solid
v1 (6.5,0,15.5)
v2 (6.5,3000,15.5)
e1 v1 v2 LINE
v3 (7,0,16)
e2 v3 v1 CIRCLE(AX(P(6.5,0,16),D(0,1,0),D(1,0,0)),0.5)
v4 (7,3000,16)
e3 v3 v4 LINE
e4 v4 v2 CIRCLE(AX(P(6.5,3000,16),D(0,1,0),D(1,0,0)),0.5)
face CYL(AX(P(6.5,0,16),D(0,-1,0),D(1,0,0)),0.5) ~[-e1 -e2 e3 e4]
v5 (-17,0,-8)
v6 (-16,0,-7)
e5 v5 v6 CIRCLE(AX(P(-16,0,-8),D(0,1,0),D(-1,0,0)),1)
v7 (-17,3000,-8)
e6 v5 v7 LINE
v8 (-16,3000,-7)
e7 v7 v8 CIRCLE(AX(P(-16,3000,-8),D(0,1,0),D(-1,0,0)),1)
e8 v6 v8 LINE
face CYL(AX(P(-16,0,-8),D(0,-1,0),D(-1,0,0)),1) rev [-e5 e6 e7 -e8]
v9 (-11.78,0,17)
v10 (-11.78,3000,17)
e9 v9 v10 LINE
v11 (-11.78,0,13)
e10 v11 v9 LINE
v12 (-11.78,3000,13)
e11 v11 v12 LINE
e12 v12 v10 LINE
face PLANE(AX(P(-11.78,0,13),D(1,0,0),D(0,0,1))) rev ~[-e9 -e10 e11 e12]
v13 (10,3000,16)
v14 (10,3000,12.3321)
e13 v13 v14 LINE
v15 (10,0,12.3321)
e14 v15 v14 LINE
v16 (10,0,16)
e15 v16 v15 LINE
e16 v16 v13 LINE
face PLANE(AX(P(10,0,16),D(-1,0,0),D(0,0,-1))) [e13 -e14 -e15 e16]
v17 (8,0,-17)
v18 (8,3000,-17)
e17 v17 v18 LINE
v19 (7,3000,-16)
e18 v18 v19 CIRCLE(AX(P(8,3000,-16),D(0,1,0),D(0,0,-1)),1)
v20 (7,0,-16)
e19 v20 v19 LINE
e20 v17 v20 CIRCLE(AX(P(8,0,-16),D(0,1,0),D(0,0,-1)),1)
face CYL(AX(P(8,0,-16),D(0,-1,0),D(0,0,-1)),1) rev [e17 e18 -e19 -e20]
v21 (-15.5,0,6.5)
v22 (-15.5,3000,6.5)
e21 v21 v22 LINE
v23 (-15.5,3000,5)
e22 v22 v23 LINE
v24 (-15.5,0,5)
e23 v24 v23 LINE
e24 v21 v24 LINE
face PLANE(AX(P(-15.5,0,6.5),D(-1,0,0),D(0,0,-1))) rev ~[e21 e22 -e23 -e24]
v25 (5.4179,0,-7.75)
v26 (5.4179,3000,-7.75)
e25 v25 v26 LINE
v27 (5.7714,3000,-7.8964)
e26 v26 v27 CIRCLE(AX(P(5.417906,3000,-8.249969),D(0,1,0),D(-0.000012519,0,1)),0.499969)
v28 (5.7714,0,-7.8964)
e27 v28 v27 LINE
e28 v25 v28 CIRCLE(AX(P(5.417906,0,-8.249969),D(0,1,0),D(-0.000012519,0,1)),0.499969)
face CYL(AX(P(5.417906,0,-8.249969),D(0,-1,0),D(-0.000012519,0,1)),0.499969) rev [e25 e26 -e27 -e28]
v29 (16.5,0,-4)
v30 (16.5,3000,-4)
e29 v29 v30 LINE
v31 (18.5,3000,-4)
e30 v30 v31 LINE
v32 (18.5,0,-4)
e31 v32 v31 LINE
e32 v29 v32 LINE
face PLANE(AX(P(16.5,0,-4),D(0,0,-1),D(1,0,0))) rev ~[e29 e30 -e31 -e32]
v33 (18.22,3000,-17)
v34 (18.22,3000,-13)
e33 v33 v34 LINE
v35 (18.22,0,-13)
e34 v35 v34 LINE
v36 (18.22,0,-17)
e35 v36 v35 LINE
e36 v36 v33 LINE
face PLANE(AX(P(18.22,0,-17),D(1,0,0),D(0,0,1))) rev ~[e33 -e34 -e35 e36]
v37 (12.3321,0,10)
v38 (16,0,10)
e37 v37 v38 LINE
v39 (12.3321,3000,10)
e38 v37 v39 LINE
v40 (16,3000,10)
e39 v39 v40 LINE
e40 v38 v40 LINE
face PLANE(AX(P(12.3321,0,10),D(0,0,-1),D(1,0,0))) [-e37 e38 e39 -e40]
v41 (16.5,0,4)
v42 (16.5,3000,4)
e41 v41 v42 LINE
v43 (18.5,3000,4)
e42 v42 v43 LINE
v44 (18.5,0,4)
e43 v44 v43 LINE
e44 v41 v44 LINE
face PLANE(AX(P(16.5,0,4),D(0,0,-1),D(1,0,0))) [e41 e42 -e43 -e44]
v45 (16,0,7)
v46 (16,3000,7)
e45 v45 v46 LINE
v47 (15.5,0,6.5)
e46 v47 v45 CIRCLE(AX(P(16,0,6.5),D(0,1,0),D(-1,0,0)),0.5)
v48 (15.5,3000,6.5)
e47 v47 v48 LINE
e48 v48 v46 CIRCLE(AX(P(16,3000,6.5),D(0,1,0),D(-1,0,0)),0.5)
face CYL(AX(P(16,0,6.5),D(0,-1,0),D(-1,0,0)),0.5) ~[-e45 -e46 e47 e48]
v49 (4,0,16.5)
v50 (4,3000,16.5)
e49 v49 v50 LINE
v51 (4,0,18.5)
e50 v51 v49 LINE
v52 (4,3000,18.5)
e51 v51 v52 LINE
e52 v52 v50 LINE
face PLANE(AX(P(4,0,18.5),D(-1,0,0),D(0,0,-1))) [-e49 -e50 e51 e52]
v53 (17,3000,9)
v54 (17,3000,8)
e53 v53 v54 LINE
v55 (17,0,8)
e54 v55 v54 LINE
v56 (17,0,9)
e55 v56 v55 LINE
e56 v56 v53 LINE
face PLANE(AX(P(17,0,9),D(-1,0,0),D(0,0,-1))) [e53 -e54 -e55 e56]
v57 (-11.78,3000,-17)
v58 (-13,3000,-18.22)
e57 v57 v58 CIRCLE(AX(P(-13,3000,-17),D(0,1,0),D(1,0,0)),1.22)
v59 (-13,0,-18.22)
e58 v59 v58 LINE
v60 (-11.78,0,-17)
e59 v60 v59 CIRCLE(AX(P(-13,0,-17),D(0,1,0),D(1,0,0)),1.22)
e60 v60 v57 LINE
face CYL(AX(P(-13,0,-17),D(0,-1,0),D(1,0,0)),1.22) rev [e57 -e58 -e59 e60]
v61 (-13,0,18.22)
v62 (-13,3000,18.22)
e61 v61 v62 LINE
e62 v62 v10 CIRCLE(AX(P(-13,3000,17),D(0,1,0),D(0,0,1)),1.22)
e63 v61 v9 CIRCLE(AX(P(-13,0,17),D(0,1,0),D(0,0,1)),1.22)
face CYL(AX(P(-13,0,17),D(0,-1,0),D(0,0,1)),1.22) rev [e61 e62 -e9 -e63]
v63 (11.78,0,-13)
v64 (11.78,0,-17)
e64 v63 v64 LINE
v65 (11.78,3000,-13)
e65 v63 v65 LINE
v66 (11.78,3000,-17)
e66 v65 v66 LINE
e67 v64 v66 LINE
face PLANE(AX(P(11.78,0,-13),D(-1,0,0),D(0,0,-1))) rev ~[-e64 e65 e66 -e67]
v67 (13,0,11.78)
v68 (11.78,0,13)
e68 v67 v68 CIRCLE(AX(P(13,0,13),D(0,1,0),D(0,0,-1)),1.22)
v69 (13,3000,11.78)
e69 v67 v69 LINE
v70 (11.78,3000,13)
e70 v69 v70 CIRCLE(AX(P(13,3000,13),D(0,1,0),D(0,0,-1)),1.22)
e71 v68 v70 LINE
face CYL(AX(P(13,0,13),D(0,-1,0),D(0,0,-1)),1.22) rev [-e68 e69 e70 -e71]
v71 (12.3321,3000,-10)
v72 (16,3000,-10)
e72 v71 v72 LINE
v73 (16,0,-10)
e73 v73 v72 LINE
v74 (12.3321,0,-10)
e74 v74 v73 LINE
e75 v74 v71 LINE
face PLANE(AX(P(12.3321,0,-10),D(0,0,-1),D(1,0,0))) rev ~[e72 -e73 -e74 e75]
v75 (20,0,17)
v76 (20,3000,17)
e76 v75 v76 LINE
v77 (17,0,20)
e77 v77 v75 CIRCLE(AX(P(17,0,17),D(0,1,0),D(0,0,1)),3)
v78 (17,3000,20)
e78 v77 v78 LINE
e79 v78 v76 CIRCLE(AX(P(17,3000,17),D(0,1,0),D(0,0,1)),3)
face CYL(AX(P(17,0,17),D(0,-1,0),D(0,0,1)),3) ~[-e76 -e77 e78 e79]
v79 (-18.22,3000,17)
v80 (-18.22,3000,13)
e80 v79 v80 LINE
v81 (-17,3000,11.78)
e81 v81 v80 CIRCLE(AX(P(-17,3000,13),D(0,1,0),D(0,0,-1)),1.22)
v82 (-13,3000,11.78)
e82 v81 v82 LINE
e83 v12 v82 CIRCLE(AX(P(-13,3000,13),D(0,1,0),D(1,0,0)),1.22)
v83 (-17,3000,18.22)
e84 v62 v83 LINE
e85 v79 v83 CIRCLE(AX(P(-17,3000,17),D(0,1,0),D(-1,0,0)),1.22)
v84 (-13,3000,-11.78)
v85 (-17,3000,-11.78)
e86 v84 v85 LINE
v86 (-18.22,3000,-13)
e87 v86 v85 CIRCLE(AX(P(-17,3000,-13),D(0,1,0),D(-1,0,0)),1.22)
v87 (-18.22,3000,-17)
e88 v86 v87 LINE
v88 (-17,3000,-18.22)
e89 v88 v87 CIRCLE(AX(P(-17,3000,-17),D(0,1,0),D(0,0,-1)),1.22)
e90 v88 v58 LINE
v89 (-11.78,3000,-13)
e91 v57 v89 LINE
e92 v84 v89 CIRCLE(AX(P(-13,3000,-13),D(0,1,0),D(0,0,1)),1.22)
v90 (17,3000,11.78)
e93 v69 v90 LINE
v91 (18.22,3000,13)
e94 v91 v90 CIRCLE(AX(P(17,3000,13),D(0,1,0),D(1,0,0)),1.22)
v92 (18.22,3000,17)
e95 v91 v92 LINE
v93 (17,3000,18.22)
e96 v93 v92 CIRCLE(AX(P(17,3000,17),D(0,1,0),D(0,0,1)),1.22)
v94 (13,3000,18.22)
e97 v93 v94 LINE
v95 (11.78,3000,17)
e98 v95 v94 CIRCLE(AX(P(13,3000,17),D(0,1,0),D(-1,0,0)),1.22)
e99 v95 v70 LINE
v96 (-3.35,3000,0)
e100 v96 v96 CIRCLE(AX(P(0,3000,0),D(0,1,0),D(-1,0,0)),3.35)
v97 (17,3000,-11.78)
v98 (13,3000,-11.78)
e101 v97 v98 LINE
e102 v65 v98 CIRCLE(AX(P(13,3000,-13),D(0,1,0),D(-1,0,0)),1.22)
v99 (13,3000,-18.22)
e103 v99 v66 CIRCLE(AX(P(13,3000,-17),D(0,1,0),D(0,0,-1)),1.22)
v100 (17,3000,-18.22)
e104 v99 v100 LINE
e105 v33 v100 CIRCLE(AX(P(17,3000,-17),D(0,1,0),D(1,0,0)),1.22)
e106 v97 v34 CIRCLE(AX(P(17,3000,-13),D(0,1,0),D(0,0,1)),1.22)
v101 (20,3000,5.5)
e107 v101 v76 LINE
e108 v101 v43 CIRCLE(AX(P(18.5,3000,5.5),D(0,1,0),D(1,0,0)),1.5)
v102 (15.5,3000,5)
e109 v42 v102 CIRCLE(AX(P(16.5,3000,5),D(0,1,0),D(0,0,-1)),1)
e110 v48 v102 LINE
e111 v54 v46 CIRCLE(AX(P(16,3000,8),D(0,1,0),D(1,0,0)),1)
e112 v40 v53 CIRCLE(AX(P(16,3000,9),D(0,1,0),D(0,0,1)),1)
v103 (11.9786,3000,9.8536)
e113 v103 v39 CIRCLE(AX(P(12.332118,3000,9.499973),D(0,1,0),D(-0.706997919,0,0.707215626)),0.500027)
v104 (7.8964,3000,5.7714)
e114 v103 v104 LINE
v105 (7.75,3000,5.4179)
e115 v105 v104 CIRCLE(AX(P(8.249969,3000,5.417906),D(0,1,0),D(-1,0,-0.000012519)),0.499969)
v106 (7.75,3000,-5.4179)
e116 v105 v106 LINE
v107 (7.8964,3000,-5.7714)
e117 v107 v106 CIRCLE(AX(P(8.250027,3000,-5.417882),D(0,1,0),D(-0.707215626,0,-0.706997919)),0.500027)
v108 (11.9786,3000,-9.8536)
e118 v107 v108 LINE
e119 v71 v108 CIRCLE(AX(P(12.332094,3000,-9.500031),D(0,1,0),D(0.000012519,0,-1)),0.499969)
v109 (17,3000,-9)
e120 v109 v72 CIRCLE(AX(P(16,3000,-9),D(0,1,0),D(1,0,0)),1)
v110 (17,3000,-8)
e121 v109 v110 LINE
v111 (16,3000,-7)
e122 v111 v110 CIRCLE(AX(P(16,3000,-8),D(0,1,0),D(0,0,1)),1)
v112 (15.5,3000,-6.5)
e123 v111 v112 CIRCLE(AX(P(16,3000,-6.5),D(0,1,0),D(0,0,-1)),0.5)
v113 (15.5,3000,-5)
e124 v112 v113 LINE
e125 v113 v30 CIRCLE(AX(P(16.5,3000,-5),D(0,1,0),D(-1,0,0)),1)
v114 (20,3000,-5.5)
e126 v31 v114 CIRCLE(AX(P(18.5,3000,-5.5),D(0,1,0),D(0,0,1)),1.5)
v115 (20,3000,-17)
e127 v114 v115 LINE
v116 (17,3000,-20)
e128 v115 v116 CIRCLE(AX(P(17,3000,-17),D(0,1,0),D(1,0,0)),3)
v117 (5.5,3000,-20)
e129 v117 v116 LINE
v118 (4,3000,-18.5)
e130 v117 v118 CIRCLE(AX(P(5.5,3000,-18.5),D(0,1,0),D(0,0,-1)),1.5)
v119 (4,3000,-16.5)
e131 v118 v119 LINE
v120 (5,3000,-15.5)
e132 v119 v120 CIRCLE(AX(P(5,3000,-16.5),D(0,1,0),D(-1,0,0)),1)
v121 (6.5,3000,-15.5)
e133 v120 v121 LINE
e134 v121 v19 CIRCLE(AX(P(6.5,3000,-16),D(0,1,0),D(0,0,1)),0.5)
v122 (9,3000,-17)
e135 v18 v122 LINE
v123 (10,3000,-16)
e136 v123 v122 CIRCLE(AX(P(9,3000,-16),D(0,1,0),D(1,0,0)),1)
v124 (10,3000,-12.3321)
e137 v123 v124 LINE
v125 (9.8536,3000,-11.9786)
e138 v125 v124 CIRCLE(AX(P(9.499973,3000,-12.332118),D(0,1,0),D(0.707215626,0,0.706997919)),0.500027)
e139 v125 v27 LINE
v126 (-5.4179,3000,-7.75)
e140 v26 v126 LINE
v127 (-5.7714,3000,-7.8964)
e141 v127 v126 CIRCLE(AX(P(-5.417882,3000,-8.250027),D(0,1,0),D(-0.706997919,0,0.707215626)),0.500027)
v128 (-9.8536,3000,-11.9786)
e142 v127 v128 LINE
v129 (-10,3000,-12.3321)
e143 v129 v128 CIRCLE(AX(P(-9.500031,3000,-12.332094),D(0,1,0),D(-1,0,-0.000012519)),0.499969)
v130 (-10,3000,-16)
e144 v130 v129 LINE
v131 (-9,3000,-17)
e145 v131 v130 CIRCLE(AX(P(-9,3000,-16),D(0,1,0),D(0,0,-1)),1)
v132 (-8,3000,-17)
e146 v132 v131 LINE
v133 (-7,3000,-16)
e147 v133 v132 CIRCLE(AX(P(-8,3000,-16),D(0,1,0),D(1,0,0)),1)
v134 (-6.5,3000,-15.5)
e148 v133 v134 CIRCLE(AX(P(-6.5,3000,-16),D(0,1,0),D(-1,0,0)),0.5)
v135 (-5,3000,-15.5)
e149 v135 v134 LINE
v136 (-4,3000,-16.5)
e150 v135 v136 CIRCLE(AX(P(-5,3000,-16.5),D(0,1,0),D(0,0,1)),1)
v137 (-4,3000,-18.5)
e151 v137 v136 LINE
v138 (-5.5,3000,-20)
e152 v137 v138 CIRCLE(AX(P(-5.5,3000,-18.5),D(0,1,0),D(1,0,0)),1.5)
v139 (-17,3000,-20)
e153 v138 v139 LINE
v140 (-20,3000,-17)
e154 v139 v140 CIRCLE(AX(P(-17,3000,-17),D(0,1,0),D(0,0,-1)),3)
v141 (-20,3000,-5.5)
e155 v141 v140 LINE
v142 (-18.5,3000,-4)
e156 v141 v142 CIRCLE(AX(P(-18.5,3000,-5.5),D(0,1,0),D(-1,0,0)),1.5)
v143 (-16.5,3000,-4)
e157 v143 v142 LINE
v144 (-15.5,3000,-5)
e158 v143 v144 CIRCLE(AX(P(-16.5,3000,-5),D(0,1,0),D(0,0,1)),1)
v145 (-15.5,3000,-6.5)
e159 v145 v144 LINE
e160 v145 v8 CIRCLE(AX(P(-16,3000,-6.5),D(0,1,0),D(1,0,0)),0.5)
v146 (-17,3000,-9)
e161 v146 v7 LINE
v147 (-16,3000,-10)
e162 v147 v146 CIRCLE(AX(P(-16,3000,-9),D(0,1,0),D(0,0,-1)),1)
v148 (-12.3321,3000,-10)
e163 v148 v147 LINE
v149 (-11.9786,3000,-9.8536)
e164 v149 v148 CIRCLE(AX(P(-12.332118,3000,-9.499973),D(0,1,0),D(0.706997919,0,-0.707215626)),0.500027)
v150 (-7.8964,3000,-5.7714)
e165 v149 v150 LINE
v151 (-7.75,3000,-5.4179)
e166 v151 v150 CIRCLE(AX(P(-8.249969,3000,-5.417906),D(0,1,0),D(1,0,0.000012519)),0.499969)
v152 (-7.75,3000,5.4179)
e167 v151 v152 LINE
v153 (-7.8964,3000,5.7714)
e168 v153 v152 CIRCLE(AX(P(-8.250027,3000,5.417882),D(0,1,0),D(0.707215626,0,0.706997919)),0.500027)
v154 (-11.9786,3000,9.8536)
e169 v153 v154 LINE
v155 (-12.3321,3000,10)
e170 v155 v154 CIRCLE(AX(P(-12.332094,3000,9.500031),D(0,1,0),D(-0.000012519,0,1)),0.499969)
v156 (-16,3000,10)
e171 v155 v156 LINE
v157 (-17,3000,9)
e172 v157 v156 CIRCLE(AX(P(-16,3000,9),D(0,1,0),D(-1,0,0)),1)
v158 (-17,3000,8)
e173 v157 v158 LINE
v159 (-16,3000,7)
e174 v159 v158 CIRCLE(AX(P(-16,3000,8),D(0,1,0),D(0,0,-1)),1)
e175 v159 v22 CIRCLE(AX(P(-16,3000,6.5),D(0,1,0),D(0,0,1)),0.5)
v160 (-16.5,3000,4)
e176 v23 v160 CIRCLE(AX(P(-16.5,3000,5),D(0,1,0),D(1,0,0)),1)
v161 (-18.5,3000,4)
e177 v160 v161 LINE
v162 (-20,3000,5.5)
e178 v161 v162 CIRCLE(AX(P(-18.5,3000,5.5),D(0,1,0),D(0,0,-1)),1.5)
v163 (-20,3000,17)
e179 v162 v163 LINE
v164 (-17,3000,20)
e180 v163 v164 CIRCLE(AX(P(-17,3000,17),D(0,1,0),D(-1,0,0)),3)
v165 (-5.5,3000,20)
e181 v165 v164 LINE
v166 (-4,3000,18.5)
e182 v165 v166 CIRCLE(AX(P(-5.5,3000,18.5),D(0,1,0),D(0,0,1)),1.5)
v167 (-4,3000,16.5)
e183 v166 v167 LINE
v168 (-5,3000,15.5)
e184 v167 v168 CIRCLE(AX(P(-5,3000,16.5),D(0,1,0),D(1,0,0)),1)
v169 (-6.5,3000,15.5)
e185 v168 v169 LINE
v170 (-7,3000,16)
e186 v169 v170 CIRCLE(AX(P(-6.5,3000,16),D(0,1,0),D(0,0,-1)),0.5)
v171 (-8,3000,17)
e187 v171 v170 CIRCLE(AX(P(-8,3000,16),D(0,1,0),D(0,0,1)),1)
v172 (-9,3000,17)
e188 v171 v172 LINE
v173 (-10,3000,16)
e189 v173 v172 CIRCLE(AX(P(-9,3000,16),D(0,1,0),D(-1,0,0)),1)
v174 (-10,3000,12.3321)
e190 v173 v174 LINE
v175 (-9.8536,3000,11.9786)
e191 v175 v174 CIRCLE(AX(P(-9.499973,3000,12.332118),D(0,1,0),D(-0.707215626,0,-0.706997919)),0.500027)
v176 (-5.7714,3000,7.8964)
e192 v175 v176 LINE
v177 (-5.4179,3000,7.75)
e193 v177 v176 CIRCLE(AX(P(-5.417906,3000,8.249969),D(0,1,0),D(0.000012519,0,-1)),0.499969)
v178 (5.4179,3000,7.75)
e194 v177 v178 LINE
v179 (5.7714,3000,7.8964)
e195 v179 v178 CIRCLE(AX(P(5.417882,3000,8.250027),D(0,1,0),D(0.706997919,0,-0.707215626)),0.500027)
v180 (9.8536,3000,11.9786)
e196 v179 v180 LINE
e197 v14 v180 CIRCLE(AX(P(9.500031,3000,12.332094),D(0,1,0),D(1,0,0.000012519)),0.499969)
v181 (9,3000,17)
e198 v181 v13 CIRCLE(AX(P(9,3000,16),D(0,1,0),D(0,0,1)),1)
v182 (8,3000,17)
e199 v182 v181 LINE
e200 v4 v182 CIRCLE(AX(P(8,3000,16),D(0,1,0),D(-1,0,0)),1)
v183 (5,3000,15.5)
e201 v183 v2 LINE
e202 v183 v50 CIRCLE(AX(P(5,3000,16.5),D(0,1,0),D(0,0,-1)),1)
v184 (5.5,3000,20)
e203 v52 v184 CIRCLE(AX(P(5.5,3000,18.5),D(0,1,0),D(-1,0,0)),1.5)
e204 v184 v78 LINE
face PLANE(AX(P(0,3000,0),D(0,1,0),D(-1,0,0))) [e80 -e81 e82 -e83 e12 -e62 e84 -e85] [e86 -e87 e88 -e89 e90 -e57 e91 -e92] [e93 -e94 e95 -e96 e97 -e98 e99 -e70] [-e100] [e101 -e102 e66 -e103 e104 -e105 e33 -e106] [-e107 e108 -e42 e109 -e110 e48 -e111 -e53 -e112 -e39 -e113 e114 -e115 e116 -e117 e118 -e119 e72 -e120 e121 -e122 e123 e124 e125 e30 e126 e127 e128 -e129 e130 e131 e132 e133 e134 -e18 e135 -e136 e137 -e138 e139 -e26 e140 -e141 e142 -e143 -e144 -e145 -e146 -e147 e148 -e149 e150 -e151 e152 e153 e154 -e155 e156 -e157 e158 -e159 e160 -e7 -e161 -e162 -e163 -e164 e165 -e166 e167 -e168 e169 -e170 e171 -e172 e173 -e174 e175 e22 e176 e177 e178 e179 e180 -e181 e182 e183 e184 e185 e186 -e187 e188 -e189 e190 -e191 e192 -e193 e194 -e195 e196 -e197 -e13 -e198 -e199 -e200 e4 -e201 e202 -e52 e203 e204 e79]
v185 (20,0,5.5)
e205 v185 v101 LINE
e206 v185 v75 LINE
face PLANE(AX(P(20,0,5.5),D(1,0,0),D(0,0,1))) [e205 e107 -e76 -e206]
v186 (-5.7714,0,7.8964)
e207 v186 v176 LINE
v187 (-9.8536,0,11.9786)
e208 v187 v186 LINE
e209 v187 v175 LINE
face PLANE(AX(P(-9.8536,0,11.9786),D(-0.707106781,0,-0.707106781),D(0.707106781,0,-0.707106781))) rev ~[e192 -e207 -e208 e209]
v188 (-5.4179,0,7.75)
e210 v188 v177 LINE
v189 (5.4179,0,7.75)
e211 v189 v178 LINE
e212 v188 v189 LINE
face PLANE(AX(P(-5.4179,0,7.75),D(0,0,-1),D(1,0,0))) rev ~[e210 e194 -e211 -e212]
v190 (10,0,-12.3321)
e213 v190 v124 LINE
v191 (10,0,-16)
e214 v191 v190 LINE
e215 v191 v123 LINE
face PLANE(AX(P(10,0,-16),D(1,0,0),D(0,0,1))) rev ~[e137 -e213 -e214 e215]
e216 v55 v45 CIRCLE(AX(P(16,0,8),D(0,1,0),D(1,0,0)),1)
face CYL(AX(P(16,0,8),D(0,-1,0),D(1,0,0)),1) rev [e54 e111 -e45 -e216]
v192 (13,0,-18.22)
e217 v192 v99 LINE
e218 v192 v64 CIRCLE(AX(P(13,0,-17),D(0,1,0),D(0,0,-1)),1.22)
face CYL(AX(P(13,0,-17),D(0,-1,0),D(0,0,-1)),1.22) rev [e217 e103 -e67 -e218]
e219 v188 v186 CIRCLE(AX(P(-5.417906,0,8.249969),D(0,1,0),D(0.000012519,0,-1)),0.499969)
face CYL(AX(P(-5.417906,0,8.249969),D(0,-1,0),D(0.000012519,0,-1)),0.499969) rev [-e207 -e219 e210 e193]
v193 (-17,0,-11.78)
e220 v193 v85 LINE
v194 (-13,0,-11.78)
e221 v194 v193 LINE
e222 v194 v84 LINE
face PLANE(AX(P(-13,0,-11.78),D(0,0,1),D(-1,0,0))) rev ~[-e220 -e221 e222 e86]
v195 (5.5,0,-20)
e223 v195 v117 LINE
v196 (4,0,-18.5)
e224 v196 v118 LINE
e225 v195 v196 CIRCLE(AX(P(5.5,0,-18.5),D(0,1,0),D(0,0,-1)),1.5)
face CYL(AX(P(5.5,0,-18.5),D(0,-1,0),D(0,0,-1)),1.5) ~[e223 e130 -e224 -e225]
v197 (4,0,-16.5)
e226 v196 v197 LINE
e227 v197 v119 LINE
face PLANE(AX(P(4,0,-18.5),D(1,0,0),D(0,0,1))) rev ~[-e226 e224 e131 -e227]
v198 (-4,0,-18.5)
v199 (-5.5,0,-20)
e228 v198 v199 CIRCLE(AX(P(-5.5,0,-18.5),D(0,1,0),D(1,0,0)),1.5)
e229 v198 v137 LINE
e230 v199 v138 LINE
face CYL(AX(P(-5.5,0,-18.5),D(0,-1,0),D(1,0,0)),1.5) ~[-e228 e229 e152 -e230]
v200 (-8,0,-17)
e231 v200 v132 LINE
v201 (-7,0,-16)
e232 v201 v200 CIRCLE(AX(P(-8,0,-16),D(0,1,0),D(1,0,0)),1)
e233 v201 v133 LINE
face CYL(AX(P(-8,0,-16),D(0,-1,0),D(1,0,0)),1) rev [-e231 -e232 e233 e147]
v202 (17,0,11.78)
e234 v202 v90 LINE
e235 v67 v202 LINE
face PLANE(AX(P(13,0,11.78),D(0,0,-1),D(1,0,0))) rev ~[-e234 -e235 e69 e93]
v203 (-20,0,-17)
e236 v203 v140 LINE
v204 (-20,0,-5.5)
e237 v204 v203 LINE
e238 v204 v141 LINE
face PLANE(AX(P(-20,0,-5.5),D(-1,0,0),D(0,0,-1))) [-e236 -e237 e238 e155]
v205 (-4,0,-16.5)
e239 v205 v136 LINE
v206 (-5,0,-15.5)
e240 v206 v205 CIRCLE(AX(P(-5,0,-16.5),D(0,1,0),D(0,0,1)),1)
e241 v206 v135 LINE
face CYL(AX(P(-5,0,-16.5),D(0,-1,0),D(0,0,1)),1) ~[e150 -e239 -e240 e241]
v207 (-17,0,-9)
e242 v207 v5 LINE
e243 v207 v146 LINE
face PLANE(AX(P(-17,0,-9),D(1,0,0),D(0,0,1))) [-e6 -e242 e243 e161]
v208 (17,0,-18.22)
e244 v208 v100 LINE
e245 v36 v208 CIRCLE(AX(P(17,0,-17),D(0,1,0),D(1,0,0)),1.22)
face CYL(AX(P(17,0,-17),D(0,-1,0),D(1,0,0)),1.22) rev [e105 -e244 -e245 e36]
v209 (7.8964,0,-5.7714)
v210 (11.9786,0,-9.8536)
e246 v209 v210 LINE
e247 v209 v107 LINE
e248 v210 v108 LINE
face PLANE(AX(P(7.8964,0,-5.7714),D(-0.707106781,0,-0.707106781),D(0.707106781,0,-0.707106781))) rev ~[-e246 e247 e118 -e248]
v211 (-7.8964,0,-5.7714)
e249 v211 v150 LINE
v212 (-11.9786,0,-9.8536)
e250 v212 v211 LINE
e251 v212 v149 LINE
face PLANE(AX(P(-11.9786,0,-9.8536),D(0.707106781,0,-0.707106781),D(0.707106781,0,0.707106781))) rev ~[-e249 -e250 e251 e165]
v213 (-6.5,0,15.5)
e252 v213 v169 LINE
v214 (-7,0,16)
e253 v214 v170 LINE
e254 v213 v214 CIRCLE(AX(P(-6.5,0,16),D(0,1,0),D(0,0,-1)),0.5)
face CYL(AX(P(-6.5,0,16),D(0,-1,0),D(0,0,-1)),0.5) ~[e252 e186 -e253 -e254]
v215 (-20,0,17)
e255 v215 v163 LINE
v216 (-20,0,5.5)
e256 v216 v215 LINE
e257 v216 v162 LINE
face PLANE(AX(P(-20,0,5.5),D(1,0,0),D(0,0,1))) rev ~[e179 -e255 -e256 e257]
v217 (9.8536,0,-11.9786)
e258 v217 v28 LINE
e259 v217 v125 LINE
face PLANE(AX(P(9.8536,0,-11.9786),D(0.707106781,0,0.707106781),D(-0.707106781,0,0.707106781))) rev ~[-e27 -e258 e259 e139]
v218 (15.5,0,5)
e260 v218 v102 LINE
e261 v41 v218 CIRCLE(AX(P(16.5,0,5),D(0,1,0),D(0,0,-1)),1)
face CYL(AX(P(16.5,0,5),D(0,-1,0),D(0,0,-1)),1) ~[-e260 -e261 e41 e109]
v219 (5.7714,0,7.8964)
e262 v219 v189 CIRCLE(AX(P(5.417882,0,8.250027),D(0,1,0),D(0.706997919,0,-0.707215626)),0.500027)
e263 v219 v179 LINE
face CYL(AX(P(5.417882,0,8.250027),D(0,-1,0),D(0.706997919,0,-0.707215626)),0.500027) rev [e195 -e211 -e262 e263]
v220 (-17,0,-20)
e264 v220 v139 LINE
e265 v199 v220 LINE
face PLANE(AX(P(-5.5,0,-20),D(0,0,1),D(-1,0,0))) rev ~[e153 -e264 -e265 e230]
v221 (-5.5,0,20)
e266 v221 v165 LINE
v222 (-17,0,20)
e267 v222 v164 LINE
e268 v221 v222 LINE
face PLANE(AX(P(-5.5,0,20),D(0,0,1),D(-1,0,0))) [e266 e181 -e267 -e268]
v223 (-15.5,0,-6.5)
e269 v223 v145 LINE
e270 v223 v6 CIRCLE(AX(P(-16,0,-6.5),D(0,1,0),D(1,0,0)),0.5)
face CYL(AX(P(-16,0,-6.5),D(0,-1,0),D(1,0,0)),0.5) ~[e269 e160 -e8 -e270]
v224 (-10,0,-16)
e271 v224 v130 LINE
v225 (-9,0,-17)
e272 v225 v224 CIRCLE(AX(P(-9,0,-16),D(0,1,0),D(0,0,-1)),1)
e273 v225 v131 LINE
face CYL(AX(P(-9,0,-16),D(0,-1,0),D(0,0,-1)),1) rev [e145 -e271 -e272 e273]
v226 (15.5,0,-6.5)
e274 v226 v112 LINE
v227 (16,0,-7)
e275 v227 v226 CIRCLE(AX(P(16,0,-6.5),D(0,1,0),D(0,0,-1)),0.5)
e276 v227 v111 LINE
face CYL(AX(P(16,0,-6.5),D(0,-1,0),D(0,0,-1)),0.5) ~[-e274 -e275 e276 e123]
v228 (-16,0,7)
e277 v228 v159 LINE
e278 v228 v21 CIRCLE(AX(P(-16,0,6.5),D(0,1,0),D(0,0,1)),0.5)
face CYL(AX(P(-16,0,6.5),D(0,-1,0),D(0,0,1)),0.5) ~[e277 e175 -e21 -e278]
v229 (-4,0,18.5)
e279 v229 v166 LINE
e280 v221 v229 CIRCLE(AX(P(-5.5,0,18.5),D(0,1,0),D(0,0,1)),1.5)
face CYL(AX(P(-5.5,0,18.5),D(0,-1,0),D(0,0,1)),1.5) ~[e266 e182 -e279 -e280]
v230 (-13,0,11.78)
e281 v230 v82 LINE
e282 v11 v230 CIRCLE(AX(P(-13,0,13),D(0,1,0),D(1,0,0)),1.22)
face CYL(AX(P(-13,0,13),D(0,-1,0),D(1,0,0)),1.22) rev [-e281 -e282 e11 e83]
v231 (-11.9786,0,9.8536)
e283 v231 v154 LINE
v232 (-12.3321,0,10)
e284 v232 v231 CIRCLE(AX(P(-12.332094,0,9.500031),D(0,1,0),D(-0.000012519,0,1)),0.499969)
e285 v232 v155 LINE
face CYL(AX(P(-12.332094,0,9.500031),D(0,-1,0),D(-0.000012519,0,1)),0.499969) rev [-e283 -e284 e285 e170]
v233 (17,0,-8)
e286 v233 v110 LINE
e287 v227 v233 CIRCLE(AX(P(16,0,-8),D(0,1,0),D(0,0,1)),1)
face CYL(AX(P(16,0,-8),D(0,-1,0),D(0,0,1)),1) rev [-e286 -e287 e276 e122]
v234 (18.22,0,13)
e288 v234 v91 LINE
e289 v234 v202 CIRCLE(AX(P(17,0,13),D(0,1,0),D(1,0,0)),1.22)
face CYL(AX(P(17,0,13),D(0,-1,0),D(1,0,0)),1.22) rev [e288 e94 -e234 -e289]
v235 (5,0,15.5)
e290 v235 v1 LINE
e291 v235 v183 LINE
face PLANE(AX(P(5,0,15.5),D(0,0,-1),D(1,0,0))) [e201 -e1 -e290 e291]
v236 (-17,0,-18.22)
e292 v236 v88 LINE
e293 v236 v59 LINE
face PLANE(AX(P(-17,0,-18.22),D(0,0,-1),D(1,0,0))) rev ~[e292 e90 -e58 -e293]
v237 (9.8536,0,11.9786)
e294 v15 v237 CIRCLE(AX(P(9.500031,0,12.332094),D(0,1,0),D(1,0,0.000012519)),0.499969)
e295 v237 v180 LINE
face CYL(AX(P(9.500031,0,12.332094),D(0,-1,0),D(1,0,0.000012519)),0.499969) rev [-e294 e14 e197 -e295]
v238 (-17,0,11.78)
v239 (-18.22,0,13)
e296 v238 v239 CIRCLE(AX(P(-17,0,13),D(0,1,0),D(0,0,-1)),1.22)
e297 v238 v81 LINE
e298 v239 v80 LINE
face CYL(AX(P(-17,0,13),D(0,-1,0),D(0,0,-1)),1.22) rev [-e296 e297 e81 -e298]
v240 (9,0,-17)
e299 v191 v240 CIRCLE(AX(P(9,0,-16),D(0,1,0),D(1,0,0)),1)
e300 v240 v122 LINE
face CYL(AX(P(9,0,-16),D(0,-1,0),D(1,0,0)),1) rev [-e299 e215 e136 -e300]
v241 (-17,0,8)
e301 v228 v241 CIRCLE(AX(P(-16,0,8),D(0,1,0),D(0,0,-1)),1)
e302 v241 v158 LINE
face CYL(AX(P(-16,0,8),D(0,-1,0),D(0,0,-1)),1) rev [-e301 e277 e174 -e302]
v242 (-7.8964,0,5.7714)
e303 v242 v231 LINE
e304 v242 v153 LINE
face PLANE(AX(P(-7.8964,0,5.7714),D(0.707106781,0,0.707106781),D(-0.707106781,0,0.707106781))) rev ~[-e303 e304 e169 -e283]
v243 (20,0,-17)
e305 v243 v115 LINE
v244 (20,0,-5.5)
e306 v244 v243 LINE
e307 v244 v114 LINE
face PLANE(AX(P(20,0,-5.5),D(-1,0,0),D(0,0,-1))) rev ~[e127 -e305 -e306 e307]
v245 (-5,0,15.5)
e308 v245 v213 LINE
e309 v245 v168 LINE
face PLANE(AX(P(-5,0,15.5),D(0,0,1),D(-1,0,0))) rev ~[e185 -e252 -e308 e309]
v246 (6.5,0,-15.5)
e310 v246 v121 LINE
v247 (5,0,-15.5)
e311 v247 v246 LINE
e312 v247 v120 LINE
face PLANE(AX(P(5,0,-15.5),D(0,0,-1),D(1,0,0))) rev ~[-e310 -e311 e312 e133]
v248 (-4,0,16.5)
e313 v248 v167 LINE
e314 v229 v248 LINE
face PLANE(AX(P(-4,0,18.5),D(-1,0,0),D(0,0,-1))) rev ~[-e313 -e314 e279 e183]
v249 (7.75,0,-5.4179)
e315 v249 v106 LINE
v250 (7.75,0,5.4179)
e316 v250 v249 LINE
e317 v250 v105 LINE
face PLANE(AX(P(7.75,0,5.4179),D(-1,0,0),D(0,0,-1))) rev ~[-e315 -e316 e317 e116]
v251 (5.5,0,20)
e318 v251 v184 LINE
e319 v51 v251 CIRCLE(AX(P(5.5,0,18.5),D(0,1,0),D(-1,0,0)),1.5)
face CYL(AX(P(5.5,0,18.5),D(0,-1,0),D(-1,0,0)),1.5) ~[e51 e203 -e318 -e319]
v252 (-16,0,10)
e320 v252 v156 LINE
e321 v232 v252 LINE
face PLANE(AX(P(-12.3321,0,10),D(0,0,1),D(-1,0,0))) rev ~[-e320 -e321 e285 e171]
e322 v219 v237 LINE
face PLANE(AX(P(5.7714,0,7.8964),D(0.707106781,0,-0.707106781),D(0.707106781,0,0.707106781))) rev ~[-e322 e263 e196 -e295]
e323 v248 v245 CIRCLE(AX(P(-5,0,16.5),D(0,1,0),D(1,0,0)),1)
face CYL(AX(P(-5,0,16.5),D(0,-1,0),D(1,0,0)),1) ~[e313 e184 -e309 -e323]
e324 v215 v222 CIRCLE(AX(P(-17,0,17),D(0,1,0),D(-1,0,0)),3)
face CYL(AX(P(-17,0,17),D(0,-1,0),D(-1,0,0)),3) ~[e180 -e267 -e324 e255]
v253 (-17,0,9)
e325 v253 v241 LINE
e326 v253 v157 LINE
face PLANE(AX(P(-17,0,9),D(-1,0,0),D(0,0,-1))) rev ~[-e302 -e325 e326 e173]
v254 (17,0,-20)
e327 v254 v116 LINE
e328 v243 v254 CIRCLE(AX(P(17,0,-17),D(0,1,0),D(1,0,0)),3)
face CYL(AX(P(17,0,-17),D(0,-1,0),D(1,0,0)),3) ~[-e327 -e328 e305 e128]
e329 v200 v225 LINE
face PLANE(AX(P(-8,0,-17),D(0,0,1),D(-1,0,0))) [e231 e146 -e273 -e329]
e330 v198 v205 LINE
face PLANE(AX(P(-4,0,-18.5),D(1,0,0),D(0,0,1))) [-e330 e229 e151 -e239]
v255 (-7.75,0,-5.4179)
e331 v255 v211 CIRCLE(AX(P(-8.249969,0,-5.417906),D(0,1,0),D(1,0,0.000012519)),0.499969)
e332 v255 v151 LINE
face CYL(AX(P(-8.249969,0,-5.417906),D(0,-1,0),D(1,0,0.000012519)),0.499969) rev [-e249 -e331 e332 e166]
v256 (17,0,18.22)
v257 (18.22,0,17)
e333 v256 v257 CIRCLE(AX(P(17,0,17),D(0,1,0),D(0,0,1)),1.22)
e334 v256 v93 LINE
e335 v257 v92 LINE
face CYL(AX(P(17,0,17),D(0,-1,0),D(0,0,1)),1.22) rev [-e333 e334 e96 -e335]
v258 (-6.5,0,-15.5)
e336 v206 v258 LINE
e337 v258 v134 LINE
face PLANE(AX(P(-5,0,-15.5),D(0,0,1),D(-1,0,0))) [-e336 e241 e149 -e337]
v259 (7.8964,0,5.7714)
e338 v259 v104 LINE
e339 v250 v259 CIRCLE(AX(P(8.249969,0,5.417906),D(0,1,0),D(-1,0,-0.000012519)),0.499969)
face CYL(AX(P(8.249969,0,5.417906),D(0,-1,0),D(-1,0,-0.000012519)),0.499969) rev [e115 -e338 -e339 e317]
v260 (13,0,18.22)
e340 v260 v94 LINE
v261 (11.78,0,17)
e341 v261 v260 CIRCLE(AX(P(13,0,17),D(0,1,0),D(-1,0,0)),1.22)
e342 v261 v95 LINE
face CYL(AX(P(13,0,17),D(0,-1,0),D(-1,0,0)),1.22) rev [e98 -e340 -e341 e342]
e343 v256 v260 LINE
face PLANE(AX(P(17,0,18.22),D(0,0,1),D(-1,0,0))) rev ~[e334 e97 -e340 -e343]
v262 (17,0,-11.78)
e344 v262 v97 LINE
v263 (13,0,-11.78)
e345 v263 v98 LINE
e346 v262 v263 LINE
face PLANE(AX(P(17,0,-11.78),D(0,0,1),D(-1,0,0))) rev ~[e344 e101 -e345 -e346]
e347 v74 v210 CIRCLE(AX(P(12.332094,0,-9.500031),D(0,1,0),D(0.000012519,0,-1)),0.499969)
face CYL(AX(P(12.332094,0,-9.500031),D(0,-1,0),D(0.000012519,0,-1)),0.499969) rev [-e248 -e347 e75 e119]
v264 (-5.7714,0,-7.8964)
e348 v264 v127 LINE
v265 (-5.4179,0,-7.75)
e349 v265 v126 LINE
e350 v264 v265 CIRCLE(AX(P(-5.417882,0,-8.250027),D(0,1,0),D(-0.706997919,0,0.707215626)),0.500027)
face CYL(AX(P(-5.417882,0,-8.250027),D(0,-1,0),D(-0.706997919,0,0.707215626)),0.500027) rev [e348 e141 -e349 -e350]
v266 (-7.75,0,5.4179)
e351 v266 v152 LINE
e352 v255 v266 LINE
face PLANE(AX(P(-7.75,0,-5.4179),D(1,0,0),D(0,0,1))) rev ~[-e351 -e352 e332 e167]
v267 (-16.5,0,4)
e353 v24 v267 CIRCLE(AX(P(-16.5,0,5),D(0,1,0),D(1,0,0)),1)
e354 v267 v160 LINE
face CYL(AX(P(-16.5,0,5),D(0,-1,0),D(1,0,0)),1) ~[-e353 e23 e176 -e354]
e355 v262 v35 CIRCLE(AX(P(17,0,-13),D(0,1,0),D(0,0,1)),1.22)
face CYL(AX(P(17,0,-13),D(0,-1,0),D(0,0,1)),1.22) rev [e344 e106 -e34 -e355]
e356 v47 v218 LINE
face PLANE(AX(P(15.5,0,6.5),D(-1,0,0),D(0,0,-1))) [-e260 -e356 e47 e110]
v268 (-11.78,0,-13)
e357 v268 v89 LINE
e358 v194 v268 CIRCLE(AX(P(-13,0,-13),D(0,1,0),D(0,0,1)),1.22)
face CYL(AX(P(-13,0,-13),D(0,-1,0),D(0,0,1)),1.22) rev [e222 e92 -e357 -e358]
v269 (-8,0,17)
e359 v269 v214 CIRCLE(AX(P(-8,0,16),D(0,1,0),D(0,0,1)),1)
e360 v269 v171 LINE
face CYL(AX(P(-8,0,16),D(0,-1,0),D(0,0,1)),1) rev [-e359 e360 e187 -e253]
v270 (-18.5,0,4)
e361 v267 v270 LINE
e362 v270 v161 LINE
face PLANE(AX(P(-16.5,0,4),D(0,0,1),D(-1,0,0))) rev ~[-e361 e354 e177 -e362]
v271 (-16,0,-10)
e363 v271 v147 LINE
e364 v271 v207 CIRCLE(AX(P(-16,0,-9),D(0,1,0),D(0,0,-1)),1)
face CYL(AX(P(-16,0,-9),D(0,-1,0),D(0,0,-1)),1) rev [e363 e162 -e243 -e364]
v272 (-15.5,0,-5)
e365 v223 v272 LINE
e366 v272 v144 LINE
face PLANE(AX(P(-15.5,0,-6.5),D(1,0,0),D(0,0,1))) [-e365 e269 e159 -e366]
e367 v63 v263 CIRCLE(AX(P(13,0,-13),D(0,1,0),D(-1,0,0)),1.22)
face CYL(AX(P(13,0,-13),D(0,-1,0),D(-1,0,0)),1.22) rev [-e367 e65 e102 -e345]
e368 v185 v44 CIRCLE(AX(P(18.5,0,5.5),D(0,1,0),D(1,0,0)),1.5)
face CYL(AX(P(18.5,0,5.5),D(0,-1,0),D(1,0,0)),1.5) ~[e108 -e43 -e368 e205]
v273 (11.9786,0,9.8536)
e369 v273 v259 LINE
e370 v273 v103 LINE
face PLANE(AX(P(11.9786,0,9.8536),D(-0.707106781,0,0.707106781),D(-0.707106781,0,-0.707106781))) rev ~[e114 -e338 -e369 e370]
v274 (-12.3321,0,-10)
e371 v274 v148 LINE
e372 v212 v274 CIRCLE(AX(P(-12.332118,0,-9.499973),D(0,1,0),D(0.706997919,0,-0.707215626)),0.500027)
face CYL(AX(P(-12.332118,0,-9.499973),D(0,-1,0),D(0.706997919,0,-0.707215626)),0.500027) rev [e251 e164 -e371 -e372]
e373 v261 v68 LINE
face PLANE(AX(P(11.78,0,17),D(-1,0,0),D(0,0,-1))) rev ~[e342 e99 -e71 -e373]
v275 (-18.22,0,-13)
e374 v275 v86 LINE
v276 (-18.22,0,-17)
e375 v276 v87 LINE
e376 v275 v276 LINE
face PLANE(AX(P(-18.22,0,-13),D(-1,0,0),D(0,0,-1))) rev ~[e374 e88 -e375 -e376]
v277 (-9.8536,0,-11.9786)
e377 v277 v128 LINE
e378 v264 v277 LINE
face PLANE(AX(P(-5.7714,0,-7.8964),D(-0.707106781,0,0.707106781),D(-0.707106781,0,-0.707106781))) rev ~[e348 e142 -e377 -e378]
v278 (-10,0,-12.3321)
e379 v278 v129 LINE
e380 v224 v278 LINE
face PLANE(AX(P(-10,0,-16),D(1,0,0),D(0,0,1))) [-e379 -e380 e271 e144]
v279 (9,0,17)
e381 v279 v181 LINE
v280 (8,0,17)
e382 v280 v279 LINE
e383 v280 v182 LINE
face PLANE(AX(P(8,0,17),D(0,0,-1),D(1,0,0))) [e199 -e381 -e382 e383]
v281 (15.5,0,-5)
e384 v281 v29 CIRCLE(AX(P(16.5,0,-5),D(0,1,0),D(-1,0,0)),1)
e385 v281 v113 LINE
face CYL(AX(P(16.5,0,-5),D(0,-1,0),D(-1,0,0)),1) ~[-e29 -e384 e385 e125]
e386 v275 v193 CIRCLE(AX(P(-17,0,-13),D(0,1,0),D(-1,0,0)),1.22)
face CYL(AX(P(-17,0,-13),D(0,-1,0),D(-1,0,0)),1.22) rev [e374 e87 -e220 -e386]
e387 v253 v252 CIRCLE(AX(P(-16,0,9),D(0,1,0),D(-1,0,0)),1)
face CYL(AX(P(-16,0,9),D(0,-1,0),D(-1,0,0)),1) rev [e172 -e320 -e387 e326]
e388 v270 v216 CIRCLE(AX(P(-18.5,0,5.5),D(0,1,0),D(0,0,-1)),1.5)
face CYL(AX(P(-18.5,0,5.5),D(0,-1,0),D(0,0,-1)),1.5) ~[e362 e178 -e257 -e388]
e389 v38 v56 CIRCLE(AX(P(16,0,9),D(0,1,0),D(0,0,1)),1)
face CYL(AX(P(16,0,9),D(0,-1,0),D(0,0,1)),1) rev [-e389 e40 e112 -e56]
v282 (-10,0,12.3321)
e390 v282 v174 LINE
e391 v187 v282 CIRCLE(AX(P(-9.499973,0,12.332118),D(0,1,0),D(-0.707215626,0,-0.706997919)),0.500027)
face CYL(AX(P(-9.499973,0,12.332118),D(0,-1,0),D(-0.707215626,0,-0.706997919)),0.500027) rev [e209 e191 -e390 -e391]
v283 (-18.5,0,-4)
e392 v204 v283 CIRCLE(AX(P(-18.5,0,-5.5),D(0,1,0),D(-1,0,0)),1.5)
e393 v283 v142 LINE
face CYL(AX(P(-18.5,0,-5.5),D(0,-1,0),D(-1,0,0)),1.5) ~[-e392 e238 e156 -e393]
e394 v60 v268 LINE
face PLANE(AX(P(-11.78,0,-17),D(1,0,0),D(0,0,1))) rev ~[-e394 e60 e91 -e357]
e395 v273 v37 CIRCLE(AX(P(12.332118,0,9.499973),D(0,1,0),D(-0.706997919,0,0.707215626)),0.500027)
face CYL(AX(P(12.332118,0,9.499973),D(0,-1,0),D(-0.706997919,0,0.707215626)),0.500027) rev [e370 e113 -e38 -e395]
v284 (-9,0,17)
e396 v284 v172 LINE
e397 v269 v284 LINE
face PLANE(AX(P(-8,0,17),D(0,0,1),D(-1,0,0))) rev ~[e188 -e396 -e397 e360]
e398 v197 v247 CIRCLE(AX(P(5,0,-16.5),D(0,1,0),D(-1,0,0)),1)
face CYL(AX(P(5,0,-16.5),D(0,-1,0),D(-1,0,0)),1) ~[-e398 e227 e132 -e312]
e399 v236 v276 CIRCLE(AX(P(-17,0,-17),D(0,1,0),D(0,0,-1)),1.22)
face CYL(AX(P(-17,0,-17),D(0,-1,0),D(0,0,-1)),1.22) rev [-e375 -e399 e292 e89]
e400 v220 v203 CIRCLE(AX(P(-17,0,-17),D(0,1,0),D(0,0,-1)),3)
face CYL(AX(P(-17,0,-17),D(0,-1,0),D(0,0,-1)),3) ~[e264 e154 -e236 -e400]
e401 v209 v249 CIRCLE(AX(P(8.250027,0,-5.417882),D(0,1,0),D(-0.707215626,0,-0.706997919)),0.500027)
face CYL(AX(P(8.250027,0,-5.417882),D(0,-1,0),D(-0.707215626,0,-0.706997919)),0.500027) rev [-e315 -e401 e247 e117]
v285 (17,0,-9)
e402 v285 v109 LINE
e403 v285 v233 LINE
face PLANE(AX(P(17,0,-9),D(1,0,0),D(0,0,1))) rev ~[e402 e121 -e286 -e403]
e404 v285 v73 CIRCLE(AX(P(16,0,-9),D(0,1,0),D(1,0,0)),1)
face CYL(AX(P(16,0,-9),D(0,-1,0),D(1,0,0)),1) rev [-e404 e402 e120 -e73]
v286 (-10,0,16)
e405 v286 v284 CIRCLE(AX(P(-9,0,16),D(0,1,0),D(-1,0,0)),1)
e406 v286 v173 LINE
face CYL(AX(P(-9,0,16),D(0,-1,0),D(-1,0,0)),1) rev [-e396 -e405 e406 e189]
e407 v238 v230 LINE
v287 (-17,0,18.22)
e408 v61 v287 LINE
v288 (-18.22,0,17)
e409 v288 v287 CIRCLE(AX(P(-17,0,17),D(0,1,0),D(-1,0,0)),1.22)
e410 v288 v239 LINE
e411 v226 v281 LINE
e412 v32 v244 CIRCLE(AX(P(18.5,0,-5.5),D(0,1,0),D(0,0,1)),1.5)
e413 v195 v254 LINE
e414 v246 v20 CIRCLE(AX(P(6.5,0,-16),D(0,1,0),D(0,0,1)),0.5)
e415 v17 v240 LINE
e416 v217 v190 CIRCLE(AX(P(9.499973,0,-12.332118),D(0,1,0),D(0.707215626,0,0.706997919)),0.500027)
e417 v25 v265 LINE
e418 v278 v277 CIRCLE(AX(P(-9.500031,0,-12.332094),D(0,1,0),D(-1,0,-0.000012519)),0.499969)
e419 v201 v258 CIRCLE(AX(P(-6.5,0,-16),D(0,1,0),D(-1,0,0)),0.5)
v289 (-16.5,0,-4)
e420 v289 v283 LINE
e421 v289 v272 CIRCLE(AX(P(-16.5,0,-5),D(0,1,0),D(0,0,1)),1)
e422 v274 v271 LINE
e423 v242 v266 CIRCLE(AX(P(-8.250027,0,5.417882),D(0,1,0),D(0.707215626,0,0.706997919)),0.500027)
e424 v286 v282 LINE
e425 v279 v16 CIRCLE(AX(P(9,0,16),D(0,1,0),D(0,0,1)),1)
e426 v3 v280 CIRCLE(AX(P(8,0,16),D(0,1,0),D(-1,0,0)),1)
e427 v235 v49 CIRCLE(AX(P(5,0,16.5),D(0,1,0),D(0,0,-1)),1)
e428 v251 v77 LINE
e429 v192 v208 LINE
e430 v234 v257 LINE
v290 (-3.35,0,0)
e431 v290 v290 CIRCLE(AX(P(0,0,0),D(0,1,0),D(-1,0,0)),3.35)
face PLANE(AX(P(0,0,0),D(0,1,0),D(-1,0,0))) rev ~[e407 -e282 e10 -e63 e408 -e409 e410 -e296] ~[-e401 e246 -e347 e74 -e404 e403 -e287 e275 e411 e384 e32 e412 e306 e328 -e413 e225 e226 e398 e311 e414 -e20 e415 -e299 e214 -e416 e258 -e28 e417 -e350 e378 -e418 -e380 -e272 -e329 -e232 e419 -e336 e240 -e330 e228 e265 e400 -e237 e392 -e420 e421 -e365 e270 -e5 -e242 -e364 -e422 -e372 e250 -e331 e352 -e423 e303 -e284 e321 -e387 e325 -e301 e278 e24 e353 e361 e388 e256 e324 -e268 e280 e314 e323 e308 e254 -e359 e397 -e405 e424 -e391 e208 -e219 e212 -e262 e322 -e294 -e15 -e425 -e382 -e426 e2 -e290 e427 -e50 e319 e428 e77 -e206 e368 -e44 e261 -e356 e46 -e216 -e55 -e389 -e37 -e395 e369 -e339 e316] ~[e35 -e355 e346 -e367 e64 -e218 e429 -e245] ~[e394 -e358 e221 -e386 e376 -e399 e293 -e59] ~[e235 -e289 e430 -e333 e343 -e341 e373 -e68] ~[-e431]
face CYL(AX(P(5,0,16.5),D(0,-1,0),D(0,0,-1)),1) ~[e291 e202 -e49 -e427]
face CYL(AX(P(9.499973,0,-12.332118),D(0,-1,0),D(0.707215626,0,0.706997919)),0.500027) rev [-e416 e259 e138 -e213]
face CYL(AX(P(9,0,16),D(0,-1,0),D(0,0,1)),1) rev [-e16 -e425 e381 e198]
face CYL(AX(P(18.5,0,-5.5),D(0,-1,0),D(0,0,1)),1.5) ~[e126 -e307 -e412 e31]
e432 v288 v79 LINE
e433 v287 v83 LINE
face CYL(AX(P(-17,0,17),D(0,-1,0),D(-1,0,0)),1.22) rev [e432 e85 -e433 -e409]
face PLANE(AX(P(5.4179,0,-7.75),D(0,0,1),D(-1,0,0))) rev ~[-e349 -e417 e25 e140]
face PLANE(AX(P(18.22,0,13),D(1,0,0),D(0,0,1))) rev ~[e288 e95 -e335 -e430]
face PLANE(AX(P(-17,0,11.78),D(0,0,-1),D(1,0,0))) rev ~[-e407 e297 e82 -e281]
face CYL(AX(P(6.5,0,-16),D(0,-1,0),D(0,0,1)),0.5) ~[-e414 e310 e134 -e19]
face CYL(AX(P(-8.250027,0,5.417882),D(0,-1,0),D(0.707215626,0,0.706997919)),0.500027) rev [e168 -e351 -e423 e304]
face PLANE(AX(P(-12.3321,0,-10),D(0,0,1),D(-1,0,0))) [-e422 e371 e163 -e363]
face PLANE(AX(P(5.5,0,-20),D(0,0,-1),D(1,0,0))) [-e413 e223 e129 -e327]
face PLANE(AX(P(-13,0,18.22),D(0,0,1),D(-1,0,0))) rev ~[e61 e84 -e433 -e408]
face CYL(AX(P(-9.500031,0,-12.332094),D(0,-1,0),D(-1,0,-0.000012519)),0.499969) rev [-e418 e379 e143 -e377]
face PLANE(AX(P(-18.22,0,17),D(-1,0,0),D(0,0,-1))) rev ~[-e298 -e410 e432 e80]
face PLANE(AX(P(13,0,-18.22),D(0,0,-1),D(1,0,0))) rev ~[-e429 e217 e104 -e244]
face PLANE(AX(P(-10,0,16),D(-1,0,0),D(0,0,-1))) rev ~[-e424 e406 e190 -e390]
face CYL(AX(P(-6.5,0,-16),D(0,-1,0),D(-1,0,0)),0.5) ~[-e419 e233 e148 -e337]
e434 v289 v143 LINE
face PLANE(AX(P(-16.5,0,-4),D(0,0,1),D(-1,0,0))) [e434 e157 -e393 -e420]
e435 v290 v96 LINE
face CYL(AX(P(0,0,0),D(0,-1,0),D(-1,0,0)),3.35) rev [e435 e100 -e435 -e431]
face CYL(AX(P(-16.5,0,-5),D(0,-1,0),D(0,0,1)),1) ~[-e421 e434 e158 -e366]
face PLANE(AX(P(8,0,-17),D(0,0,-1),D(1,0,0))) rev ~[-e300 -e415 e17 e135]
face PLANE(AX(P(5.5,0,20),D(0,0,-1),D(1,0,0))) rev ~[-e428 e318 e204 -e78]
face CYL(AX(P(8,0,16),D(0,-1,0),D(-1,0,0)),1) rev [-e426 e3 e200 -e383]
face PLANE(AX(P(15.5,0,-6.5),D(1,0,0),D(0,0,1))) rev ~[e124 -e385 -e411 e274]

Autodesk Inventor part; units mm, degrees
ref_plane "YZ Plane" through (0, 0, 0) normal (1, 0, 0) x (0, 1, 0)
ref_plane "Start Plane" through (0, 0, 0) normal (0, 1, 0) x (-1, 0, 0)
ref_plane "End Plane" through (0, 3000, 0) normal (0, 1, 0) x (-1, 0, 0)
sketch "Sketch1" plane through (0, 0, 0) normal (0, 1, 0) x (-1, 0, 0)
  arc A0 (-9.8536, -11.9786) -> (-10, -12.3321) centre (-9.5, -12.3321) ccw
  line L0 (-9.8536, -11.9786) -> (-5.7714, -7.8964)
  arc A1 (-5.4179, -7.75) -> (-5.7714, -7.8964) centre (-5.4179, -8.25) ccw
  line L1 (-5.4179, -7.75) -> (5.4179, -7.75)
  arc A2 (5.7714, -7.8964) -> (5.4179, -7.75) centre (5.4179, -8.25) ccw
  line L2 (5.7714, -7.8964) -> (9.8536, -11.9786)
  arc A3 (10, -12.3321) -> (9.8536, -11.9786) centre (9.5, -12.3321) ccw
  arc A4 (11.9786, -9.8536) -> (12.3321, -10) centre (12.3321, -9.5) ccw
  line L3 (11.9786, -9.8536) -> (7.8964, -5.7714)
  arc A5 (7.75, -5.4179) -> (7.8964, -5.7714) centre (8.25, -5.4179) ccw
  line L4 (7.75, -5.4179) -> (7.75, 5.4179)
  arc A6 (7.8964, 5.7714) -> (7.75, 5.4179) centre (8.25, 5.4179) ccw
  line L5 (7.8964, 5.7714) -> (11.9786, 9.8536)
  arc A7 (12.3321, 10) -> (11.9786, 9.8536) centre (12.3321, 9.5) ccw
  line L6 (12.3321, 10) -> (16, 10)
  arc A8 (17, 9) -> (16, 10) centre (16, 9) ccw
  line L7 (17, 9) -> (17, 8)
  arc A9 (16, 7) -> (17, 8) centre (16, 8) ccw
  arc A10 (16, 7) -> (15.5, 6.5) centre (16, 6.5) ccw
  line L8 (15.5, 6.5) -> (15.5, 5)
  arc A11 (15.5, 5) -> (16.5, 4) centre (16.5, 5) ccw
  line L9 (16.5, 4) -> (18.5, 4)
  line L10 (4, 18.5) -> (4, 16.5)
  arc A12 (4, 16.5) -> (5, 15.5) centre (5, 16.5) ccw
  line L11 (5, 15.5) -> (6.5, 15.5)
  arc A13 (6.5, 15.5) -> (7, 16) centre (6.5, 16) ccw
  arc A14 (8, 17) -> (7, 16) centre (8, 16) ccw
  line L12 (8, 17) -> (9, 17)
  arc A15 (10, 16) -> (9, 17) centre (9, 16) ccw
  line L13 (10, 16) -> (10, 12.3321)
  arc A16 (9.8536, 11.9786) -> (10, 12.3321) centre (9.5, 12.3321) ccw
  line L14 (9.8536, 11.9786) -> (5.7714, 7.8964)
  arc A17 (5.4179, 7.75) -> (5.7714, 7.8964) centre (5.4179, 8.25) ccw
  line L15 (5.4179, 7.75) -> (-5.4179, 7.75)
  arc A18 (-5.7714, 7.8964) -> (-5.4179, 7.75) centre (-5.4179, 8.25) ccw
  line L16 (-5.7714, 7.8964) -> (-9.8536, 11.9786)
  arc A19 (-10, 12.3321) -> (-9.8536, 11.9786) centre (-9.5, 12.3321) ccw
  arc A20 (-11.9786, 9.8536) -> (-12.3321, 10) centre (-12.3321, 9.5) ccw
  line L17 (-11.9786, 9.8536) -> (-7.8964, 5.7714)
  arc A21 (-7.75, 5.4179) -> (-7.8964, 5.7714) centre (-8.25, 5.4179) ccw
  line L18 (-7.75, 5.4179) -> (-7.75, -5.4179)
  arc A22 (-7.8964, -5.7714) -> (-7.75, -5.4179) centre (-8.25, -5.4179) ccw
  line L19 (-7.8964, -5.7714) -> (-11.9786, -9.8536)
  arc A23 (-12.3321, -10) -> (-11.9786, -9.8536) centre (-12.3321, -9.5) ccw
  line L20 (17, 11.78) -> (13, 11.78)
  arc A24 (11.78, 13) -> (13, 11.78) centre (13, 13) ccw
  line L21 (11.78, 13) -> (11.78, 17)
  arc A25 (13, 18.22) -> (11.78, 17) centre (13, 17) ccw
  line L22 (13, 18.22) -> (17, 18.22)
  arc A26 (18.22, 17) -> (17, 18.22) centre (17, 17) ccw
  line L23 (18.22, 17) -> (18.22, 13)
  arc A27 (17, 11.78) -> (18.22, 13) centre (17, 13) ccw
  line L24 (11.78, -17) -> (11.78, -13)
  arc A28 (13, -11.78) -> (11.78, -13) centre (13, -13) ccw
  line L25 (13, -11.78) -> (17, -11.78)
  arc A29 (18.22, -13) -> (17, -11.78) centre (17, -13) ccw
  line L26 (18.22, -13) -> (18.22, -17)
  arc A30 (17, -18.22) -> (18.22, -17) centre (17, -17) ccw
  line L27 (17, -18.22) -> (13, -18.22)
  arc A31 (11.78, -17) -> (13, -18.22) centre (13, -17) ccw
  line L28 (-17, -11.78) -> (-13, -11.78)
  arc A32 (-11.78, -13) -> (-13, -11.78) centre (-13, -13) ccw
  line L29 (-11.78, -13) -> (-11.78, -17)
  arc A33 (-13, -18.22) -> (-11.78, -17) centre (-13, -17) ccw
  line L30 (-13, -18.22) -> (-17, -18.22)
  arc A34 (-18.22, -17) -> (-17, -18.22) centre (-17, -17) ccw
  line L31 (-18.22, -17) -> (-18.22, -13)
  arc A35 (-17, -11.78) -> (-18.22, -13) centre (-17, -13) ccw
  line L32 (-18.22, 13) -> (-18.22, 17)
  arc A36 (-17, 18.22) -> (-18.22, 17) centre (-17, 17) ccw
  line L33 (-17, 18.22) -> (-13, 18.22)
  arc A37 (-11.78, 17) -> (-13, 18.22) centre (-13, 17) ccw
  line L34 (-11.78, 17) -> (-11.78, 13)
  arc A38 (-13, 11.78) -> (-11.78, 13) centre (-13, 13) ccw
  line L35 (-13, 11.78) -> (-17, 11.78)
  arc A39 (-18.22, 13) -> (-17, 11.78) centre (-17, 13) ccw
  circle A40 centre (0, 0) radius 3.35
  line L36 (5.5, 20) -> (17, 20)
  arc A41 (5.5, 20) -> (4, 18.5) centre (5.5, 18.5) ccw
  line L37 (20, 5.5) -> (20, 17)
  arc A42 (18.5, 4) -> (20, 5.5) centre (18.5, 5.5) ccw
  arc A43 (20, 17) -> (17, 20) centre (17, 17) ccw
  line L38 (12.3321, -10) -> (16, -10)
  arc A44 (16, -10) -> (17, -9) centre (16, -9) ccw
  line L39 (17, -9) -> (17, -8)
  arc A45 (17, -8) -> (16, -7) centre (16, -8) ccw
  arc A46 (15.5, -6.5) -> (16, -7) centre (16, -6.5) ccw
  line L40 (15.5, -6.5) -> (15.5, -5)
  arc A47 (16.5, -4) -> (15.5, -5) centre (16.5, -5) ccw
  line L41 (16.5, -4) -> (18.5, -4)
  line L42 (4, -18.5) -> (4, -16.5)
  arc A48 (5, -15.5) -> (4, -16.5) centre (5, -16.5) ccw
  line L43 (5, -15.5) -> (6.5, -15.5)
  arc A49 (7, -16) -> (6.5, -15.5) centre (6.5, -16) ccw
  arc A50 (7, -16) -> (8, -17) centre (8, -16) ccw
  line L44 (8, -17) -> (9, -17)
  arc A51 (9, -17) -> (10, -16) centre (9, -16) ccw
  line L45 (10, -16) -> (10, -12.3321)
  line L46 (5.5, -20) -> (17, -20)
  arc A52 (4, -18.5) -> (5.5, -20) centre (5.5, -18.5) ccw
  line L47 (20, -5.5) -> (20, -17)
  arc A53 (20, -5.5) -> (18.5, -4) centre (18.5, -5.5) ccw
  arc A54 (17, -20) -> (20, -17) centre (17, -17) ccw
  line L48 (-12.3321, 10) -> (-16, 10)
  arc A55 (-16, 10) -> (-17, 9) centre (-16, 9) ccw
  line L49 (-17, 9) -> (-17, 8)
  arc A56 (-17, 8) -> (-16, 7) centre (-16, 8) ccw
  arc A57 (-15.5, 6.5) -> (-16, 7) centre (-16, 6.5) ccw
  line L50 (-15.5, 6.5) -> (-15.5, 5)
  arc A58 (-16.5, 4) -> (-15.5, 5) centre (-16.5, 5) ccw
  line L51 (-16.5, 4) -> (-18.5, 4)
  line L52 (-4, 18.5) -> (-4, 16.5)
  arc A59 (-5, 15.5) -> (-4, 16.5) centre (-5, 16.5) ccw
  line L53 (-5, 15.5) -> (-6.5, 15.5)
  arc A60 (-7, 16) -> (-6.5, 15.5) centre (-6.5, 16) ccw
  arc A61 (-7, 16) -> (-8, 17) centre (-8, 16) ccw
  line L54 (-8, 17) -> (-9, 17)
  arc A62 (-9, 17) -> (-10, 16) centre (-9, 16) ccw
  line L55 (-10, 16) -> (-10, 12.3321)
  line L56 (-5.5, 20) -> (-17, 20)
  arc A63 (-4, 18.5) -> (-5.5, 20) centre (-5.5, 18.5) ccw
  line L57 (-20, 5.5) -> (-20, 17)
  arc A64 (-20, 5.5) -> (-18.5, 4) centre (-18.5, 5.5) ccw
  arc A65 (-17, 20) -> (-20, 17) centre (-17, 17) ccw
  line L58 (-12.3321, -10) -> (-16, -10)
  arc A66 (-17, -9) -> (-16, -10) centre (-16, -9) ccw
  line L59 (-17, -9) -> (-17, -8)
  arc A67 (-16, -7) -> (-17, -8) centre (-16, -8) ccw
  arc A68 (-16, -7) -> (-15.5, -6.5) centre (-16, -6.5) ccw
  line L60 (-15.5, -6.5) -> (-15.5, -5)
  arc A69 (-15.5, -5) -> (-16.5, -4) centre (-16.5, -5) ccw
  line L61 (-16.5, -4) -> (-18.5, -4)
  line L62 (-4, -18.5) -> (-4, -16.5)
  arc A70 (-4, -16.5) -> (-5, -15.5) centre (-5, -16.5) ccw
  line L63 (-5, -15.5) -> (-6.5, -15.5)
  arc A71 (-6.5, -15.5) -> (-7, -16) centre (-6.5, -16) ccw
  arc A72 (-8, -17) -> (-7, -16) centre (-8, -16) ccw
  line L64 (-8, -17) -> (-9, -17)
  arc A73 (-10, -16) -> (-9, -17) centre (-9, -16) ccw
  line L65 (-10, -16) -> (-10, -12.3321)
  line L66 (-5.5, -20) -> (-17, -20)
  arc A74 (-5.5, -20) -> (-4, -18.5) centre (-5.5, -18.5) ccw
  line L67 (-20, -5.5) -> (-20, -17)
  arc A75 (-18.5, -4) -> (-20, -5.5) centre (-18.5, -5.5) ccw
  arc A76 (-20, -17) -> (-17, -20) centre (-17, -17) ccw
extrude "Body" add sketch "Sketch1" along normal up to surface (3000 mm away) from surface at 0
sketch "Sketch2" plane through (0, 0, 0) normal (0, 1, 0) x (-1, 0, 0)
  line L0 (0, 0) -> (10, 0)
ref_plane "Work Plane3" through (0, 0, 0) normal (0, 0, -1) x (-1, 0, 0)
sketch "Sketch3" plane through (0, 0, 0) normal (0, 0, -1) x (-1, 0, 0)
  line L0 (-2, 0) -> (12, 0)
  line L1 (-2, 3000) -> (12, 3000)
  dimension "d11" = 3000
equation "\"G_OFFSET_START\" = 0"
equation "\"G_OFFSET_END\" = 0"
equation "\"G_L\" = d11"
properties part number "10-040" material "Alluminio 6061"
